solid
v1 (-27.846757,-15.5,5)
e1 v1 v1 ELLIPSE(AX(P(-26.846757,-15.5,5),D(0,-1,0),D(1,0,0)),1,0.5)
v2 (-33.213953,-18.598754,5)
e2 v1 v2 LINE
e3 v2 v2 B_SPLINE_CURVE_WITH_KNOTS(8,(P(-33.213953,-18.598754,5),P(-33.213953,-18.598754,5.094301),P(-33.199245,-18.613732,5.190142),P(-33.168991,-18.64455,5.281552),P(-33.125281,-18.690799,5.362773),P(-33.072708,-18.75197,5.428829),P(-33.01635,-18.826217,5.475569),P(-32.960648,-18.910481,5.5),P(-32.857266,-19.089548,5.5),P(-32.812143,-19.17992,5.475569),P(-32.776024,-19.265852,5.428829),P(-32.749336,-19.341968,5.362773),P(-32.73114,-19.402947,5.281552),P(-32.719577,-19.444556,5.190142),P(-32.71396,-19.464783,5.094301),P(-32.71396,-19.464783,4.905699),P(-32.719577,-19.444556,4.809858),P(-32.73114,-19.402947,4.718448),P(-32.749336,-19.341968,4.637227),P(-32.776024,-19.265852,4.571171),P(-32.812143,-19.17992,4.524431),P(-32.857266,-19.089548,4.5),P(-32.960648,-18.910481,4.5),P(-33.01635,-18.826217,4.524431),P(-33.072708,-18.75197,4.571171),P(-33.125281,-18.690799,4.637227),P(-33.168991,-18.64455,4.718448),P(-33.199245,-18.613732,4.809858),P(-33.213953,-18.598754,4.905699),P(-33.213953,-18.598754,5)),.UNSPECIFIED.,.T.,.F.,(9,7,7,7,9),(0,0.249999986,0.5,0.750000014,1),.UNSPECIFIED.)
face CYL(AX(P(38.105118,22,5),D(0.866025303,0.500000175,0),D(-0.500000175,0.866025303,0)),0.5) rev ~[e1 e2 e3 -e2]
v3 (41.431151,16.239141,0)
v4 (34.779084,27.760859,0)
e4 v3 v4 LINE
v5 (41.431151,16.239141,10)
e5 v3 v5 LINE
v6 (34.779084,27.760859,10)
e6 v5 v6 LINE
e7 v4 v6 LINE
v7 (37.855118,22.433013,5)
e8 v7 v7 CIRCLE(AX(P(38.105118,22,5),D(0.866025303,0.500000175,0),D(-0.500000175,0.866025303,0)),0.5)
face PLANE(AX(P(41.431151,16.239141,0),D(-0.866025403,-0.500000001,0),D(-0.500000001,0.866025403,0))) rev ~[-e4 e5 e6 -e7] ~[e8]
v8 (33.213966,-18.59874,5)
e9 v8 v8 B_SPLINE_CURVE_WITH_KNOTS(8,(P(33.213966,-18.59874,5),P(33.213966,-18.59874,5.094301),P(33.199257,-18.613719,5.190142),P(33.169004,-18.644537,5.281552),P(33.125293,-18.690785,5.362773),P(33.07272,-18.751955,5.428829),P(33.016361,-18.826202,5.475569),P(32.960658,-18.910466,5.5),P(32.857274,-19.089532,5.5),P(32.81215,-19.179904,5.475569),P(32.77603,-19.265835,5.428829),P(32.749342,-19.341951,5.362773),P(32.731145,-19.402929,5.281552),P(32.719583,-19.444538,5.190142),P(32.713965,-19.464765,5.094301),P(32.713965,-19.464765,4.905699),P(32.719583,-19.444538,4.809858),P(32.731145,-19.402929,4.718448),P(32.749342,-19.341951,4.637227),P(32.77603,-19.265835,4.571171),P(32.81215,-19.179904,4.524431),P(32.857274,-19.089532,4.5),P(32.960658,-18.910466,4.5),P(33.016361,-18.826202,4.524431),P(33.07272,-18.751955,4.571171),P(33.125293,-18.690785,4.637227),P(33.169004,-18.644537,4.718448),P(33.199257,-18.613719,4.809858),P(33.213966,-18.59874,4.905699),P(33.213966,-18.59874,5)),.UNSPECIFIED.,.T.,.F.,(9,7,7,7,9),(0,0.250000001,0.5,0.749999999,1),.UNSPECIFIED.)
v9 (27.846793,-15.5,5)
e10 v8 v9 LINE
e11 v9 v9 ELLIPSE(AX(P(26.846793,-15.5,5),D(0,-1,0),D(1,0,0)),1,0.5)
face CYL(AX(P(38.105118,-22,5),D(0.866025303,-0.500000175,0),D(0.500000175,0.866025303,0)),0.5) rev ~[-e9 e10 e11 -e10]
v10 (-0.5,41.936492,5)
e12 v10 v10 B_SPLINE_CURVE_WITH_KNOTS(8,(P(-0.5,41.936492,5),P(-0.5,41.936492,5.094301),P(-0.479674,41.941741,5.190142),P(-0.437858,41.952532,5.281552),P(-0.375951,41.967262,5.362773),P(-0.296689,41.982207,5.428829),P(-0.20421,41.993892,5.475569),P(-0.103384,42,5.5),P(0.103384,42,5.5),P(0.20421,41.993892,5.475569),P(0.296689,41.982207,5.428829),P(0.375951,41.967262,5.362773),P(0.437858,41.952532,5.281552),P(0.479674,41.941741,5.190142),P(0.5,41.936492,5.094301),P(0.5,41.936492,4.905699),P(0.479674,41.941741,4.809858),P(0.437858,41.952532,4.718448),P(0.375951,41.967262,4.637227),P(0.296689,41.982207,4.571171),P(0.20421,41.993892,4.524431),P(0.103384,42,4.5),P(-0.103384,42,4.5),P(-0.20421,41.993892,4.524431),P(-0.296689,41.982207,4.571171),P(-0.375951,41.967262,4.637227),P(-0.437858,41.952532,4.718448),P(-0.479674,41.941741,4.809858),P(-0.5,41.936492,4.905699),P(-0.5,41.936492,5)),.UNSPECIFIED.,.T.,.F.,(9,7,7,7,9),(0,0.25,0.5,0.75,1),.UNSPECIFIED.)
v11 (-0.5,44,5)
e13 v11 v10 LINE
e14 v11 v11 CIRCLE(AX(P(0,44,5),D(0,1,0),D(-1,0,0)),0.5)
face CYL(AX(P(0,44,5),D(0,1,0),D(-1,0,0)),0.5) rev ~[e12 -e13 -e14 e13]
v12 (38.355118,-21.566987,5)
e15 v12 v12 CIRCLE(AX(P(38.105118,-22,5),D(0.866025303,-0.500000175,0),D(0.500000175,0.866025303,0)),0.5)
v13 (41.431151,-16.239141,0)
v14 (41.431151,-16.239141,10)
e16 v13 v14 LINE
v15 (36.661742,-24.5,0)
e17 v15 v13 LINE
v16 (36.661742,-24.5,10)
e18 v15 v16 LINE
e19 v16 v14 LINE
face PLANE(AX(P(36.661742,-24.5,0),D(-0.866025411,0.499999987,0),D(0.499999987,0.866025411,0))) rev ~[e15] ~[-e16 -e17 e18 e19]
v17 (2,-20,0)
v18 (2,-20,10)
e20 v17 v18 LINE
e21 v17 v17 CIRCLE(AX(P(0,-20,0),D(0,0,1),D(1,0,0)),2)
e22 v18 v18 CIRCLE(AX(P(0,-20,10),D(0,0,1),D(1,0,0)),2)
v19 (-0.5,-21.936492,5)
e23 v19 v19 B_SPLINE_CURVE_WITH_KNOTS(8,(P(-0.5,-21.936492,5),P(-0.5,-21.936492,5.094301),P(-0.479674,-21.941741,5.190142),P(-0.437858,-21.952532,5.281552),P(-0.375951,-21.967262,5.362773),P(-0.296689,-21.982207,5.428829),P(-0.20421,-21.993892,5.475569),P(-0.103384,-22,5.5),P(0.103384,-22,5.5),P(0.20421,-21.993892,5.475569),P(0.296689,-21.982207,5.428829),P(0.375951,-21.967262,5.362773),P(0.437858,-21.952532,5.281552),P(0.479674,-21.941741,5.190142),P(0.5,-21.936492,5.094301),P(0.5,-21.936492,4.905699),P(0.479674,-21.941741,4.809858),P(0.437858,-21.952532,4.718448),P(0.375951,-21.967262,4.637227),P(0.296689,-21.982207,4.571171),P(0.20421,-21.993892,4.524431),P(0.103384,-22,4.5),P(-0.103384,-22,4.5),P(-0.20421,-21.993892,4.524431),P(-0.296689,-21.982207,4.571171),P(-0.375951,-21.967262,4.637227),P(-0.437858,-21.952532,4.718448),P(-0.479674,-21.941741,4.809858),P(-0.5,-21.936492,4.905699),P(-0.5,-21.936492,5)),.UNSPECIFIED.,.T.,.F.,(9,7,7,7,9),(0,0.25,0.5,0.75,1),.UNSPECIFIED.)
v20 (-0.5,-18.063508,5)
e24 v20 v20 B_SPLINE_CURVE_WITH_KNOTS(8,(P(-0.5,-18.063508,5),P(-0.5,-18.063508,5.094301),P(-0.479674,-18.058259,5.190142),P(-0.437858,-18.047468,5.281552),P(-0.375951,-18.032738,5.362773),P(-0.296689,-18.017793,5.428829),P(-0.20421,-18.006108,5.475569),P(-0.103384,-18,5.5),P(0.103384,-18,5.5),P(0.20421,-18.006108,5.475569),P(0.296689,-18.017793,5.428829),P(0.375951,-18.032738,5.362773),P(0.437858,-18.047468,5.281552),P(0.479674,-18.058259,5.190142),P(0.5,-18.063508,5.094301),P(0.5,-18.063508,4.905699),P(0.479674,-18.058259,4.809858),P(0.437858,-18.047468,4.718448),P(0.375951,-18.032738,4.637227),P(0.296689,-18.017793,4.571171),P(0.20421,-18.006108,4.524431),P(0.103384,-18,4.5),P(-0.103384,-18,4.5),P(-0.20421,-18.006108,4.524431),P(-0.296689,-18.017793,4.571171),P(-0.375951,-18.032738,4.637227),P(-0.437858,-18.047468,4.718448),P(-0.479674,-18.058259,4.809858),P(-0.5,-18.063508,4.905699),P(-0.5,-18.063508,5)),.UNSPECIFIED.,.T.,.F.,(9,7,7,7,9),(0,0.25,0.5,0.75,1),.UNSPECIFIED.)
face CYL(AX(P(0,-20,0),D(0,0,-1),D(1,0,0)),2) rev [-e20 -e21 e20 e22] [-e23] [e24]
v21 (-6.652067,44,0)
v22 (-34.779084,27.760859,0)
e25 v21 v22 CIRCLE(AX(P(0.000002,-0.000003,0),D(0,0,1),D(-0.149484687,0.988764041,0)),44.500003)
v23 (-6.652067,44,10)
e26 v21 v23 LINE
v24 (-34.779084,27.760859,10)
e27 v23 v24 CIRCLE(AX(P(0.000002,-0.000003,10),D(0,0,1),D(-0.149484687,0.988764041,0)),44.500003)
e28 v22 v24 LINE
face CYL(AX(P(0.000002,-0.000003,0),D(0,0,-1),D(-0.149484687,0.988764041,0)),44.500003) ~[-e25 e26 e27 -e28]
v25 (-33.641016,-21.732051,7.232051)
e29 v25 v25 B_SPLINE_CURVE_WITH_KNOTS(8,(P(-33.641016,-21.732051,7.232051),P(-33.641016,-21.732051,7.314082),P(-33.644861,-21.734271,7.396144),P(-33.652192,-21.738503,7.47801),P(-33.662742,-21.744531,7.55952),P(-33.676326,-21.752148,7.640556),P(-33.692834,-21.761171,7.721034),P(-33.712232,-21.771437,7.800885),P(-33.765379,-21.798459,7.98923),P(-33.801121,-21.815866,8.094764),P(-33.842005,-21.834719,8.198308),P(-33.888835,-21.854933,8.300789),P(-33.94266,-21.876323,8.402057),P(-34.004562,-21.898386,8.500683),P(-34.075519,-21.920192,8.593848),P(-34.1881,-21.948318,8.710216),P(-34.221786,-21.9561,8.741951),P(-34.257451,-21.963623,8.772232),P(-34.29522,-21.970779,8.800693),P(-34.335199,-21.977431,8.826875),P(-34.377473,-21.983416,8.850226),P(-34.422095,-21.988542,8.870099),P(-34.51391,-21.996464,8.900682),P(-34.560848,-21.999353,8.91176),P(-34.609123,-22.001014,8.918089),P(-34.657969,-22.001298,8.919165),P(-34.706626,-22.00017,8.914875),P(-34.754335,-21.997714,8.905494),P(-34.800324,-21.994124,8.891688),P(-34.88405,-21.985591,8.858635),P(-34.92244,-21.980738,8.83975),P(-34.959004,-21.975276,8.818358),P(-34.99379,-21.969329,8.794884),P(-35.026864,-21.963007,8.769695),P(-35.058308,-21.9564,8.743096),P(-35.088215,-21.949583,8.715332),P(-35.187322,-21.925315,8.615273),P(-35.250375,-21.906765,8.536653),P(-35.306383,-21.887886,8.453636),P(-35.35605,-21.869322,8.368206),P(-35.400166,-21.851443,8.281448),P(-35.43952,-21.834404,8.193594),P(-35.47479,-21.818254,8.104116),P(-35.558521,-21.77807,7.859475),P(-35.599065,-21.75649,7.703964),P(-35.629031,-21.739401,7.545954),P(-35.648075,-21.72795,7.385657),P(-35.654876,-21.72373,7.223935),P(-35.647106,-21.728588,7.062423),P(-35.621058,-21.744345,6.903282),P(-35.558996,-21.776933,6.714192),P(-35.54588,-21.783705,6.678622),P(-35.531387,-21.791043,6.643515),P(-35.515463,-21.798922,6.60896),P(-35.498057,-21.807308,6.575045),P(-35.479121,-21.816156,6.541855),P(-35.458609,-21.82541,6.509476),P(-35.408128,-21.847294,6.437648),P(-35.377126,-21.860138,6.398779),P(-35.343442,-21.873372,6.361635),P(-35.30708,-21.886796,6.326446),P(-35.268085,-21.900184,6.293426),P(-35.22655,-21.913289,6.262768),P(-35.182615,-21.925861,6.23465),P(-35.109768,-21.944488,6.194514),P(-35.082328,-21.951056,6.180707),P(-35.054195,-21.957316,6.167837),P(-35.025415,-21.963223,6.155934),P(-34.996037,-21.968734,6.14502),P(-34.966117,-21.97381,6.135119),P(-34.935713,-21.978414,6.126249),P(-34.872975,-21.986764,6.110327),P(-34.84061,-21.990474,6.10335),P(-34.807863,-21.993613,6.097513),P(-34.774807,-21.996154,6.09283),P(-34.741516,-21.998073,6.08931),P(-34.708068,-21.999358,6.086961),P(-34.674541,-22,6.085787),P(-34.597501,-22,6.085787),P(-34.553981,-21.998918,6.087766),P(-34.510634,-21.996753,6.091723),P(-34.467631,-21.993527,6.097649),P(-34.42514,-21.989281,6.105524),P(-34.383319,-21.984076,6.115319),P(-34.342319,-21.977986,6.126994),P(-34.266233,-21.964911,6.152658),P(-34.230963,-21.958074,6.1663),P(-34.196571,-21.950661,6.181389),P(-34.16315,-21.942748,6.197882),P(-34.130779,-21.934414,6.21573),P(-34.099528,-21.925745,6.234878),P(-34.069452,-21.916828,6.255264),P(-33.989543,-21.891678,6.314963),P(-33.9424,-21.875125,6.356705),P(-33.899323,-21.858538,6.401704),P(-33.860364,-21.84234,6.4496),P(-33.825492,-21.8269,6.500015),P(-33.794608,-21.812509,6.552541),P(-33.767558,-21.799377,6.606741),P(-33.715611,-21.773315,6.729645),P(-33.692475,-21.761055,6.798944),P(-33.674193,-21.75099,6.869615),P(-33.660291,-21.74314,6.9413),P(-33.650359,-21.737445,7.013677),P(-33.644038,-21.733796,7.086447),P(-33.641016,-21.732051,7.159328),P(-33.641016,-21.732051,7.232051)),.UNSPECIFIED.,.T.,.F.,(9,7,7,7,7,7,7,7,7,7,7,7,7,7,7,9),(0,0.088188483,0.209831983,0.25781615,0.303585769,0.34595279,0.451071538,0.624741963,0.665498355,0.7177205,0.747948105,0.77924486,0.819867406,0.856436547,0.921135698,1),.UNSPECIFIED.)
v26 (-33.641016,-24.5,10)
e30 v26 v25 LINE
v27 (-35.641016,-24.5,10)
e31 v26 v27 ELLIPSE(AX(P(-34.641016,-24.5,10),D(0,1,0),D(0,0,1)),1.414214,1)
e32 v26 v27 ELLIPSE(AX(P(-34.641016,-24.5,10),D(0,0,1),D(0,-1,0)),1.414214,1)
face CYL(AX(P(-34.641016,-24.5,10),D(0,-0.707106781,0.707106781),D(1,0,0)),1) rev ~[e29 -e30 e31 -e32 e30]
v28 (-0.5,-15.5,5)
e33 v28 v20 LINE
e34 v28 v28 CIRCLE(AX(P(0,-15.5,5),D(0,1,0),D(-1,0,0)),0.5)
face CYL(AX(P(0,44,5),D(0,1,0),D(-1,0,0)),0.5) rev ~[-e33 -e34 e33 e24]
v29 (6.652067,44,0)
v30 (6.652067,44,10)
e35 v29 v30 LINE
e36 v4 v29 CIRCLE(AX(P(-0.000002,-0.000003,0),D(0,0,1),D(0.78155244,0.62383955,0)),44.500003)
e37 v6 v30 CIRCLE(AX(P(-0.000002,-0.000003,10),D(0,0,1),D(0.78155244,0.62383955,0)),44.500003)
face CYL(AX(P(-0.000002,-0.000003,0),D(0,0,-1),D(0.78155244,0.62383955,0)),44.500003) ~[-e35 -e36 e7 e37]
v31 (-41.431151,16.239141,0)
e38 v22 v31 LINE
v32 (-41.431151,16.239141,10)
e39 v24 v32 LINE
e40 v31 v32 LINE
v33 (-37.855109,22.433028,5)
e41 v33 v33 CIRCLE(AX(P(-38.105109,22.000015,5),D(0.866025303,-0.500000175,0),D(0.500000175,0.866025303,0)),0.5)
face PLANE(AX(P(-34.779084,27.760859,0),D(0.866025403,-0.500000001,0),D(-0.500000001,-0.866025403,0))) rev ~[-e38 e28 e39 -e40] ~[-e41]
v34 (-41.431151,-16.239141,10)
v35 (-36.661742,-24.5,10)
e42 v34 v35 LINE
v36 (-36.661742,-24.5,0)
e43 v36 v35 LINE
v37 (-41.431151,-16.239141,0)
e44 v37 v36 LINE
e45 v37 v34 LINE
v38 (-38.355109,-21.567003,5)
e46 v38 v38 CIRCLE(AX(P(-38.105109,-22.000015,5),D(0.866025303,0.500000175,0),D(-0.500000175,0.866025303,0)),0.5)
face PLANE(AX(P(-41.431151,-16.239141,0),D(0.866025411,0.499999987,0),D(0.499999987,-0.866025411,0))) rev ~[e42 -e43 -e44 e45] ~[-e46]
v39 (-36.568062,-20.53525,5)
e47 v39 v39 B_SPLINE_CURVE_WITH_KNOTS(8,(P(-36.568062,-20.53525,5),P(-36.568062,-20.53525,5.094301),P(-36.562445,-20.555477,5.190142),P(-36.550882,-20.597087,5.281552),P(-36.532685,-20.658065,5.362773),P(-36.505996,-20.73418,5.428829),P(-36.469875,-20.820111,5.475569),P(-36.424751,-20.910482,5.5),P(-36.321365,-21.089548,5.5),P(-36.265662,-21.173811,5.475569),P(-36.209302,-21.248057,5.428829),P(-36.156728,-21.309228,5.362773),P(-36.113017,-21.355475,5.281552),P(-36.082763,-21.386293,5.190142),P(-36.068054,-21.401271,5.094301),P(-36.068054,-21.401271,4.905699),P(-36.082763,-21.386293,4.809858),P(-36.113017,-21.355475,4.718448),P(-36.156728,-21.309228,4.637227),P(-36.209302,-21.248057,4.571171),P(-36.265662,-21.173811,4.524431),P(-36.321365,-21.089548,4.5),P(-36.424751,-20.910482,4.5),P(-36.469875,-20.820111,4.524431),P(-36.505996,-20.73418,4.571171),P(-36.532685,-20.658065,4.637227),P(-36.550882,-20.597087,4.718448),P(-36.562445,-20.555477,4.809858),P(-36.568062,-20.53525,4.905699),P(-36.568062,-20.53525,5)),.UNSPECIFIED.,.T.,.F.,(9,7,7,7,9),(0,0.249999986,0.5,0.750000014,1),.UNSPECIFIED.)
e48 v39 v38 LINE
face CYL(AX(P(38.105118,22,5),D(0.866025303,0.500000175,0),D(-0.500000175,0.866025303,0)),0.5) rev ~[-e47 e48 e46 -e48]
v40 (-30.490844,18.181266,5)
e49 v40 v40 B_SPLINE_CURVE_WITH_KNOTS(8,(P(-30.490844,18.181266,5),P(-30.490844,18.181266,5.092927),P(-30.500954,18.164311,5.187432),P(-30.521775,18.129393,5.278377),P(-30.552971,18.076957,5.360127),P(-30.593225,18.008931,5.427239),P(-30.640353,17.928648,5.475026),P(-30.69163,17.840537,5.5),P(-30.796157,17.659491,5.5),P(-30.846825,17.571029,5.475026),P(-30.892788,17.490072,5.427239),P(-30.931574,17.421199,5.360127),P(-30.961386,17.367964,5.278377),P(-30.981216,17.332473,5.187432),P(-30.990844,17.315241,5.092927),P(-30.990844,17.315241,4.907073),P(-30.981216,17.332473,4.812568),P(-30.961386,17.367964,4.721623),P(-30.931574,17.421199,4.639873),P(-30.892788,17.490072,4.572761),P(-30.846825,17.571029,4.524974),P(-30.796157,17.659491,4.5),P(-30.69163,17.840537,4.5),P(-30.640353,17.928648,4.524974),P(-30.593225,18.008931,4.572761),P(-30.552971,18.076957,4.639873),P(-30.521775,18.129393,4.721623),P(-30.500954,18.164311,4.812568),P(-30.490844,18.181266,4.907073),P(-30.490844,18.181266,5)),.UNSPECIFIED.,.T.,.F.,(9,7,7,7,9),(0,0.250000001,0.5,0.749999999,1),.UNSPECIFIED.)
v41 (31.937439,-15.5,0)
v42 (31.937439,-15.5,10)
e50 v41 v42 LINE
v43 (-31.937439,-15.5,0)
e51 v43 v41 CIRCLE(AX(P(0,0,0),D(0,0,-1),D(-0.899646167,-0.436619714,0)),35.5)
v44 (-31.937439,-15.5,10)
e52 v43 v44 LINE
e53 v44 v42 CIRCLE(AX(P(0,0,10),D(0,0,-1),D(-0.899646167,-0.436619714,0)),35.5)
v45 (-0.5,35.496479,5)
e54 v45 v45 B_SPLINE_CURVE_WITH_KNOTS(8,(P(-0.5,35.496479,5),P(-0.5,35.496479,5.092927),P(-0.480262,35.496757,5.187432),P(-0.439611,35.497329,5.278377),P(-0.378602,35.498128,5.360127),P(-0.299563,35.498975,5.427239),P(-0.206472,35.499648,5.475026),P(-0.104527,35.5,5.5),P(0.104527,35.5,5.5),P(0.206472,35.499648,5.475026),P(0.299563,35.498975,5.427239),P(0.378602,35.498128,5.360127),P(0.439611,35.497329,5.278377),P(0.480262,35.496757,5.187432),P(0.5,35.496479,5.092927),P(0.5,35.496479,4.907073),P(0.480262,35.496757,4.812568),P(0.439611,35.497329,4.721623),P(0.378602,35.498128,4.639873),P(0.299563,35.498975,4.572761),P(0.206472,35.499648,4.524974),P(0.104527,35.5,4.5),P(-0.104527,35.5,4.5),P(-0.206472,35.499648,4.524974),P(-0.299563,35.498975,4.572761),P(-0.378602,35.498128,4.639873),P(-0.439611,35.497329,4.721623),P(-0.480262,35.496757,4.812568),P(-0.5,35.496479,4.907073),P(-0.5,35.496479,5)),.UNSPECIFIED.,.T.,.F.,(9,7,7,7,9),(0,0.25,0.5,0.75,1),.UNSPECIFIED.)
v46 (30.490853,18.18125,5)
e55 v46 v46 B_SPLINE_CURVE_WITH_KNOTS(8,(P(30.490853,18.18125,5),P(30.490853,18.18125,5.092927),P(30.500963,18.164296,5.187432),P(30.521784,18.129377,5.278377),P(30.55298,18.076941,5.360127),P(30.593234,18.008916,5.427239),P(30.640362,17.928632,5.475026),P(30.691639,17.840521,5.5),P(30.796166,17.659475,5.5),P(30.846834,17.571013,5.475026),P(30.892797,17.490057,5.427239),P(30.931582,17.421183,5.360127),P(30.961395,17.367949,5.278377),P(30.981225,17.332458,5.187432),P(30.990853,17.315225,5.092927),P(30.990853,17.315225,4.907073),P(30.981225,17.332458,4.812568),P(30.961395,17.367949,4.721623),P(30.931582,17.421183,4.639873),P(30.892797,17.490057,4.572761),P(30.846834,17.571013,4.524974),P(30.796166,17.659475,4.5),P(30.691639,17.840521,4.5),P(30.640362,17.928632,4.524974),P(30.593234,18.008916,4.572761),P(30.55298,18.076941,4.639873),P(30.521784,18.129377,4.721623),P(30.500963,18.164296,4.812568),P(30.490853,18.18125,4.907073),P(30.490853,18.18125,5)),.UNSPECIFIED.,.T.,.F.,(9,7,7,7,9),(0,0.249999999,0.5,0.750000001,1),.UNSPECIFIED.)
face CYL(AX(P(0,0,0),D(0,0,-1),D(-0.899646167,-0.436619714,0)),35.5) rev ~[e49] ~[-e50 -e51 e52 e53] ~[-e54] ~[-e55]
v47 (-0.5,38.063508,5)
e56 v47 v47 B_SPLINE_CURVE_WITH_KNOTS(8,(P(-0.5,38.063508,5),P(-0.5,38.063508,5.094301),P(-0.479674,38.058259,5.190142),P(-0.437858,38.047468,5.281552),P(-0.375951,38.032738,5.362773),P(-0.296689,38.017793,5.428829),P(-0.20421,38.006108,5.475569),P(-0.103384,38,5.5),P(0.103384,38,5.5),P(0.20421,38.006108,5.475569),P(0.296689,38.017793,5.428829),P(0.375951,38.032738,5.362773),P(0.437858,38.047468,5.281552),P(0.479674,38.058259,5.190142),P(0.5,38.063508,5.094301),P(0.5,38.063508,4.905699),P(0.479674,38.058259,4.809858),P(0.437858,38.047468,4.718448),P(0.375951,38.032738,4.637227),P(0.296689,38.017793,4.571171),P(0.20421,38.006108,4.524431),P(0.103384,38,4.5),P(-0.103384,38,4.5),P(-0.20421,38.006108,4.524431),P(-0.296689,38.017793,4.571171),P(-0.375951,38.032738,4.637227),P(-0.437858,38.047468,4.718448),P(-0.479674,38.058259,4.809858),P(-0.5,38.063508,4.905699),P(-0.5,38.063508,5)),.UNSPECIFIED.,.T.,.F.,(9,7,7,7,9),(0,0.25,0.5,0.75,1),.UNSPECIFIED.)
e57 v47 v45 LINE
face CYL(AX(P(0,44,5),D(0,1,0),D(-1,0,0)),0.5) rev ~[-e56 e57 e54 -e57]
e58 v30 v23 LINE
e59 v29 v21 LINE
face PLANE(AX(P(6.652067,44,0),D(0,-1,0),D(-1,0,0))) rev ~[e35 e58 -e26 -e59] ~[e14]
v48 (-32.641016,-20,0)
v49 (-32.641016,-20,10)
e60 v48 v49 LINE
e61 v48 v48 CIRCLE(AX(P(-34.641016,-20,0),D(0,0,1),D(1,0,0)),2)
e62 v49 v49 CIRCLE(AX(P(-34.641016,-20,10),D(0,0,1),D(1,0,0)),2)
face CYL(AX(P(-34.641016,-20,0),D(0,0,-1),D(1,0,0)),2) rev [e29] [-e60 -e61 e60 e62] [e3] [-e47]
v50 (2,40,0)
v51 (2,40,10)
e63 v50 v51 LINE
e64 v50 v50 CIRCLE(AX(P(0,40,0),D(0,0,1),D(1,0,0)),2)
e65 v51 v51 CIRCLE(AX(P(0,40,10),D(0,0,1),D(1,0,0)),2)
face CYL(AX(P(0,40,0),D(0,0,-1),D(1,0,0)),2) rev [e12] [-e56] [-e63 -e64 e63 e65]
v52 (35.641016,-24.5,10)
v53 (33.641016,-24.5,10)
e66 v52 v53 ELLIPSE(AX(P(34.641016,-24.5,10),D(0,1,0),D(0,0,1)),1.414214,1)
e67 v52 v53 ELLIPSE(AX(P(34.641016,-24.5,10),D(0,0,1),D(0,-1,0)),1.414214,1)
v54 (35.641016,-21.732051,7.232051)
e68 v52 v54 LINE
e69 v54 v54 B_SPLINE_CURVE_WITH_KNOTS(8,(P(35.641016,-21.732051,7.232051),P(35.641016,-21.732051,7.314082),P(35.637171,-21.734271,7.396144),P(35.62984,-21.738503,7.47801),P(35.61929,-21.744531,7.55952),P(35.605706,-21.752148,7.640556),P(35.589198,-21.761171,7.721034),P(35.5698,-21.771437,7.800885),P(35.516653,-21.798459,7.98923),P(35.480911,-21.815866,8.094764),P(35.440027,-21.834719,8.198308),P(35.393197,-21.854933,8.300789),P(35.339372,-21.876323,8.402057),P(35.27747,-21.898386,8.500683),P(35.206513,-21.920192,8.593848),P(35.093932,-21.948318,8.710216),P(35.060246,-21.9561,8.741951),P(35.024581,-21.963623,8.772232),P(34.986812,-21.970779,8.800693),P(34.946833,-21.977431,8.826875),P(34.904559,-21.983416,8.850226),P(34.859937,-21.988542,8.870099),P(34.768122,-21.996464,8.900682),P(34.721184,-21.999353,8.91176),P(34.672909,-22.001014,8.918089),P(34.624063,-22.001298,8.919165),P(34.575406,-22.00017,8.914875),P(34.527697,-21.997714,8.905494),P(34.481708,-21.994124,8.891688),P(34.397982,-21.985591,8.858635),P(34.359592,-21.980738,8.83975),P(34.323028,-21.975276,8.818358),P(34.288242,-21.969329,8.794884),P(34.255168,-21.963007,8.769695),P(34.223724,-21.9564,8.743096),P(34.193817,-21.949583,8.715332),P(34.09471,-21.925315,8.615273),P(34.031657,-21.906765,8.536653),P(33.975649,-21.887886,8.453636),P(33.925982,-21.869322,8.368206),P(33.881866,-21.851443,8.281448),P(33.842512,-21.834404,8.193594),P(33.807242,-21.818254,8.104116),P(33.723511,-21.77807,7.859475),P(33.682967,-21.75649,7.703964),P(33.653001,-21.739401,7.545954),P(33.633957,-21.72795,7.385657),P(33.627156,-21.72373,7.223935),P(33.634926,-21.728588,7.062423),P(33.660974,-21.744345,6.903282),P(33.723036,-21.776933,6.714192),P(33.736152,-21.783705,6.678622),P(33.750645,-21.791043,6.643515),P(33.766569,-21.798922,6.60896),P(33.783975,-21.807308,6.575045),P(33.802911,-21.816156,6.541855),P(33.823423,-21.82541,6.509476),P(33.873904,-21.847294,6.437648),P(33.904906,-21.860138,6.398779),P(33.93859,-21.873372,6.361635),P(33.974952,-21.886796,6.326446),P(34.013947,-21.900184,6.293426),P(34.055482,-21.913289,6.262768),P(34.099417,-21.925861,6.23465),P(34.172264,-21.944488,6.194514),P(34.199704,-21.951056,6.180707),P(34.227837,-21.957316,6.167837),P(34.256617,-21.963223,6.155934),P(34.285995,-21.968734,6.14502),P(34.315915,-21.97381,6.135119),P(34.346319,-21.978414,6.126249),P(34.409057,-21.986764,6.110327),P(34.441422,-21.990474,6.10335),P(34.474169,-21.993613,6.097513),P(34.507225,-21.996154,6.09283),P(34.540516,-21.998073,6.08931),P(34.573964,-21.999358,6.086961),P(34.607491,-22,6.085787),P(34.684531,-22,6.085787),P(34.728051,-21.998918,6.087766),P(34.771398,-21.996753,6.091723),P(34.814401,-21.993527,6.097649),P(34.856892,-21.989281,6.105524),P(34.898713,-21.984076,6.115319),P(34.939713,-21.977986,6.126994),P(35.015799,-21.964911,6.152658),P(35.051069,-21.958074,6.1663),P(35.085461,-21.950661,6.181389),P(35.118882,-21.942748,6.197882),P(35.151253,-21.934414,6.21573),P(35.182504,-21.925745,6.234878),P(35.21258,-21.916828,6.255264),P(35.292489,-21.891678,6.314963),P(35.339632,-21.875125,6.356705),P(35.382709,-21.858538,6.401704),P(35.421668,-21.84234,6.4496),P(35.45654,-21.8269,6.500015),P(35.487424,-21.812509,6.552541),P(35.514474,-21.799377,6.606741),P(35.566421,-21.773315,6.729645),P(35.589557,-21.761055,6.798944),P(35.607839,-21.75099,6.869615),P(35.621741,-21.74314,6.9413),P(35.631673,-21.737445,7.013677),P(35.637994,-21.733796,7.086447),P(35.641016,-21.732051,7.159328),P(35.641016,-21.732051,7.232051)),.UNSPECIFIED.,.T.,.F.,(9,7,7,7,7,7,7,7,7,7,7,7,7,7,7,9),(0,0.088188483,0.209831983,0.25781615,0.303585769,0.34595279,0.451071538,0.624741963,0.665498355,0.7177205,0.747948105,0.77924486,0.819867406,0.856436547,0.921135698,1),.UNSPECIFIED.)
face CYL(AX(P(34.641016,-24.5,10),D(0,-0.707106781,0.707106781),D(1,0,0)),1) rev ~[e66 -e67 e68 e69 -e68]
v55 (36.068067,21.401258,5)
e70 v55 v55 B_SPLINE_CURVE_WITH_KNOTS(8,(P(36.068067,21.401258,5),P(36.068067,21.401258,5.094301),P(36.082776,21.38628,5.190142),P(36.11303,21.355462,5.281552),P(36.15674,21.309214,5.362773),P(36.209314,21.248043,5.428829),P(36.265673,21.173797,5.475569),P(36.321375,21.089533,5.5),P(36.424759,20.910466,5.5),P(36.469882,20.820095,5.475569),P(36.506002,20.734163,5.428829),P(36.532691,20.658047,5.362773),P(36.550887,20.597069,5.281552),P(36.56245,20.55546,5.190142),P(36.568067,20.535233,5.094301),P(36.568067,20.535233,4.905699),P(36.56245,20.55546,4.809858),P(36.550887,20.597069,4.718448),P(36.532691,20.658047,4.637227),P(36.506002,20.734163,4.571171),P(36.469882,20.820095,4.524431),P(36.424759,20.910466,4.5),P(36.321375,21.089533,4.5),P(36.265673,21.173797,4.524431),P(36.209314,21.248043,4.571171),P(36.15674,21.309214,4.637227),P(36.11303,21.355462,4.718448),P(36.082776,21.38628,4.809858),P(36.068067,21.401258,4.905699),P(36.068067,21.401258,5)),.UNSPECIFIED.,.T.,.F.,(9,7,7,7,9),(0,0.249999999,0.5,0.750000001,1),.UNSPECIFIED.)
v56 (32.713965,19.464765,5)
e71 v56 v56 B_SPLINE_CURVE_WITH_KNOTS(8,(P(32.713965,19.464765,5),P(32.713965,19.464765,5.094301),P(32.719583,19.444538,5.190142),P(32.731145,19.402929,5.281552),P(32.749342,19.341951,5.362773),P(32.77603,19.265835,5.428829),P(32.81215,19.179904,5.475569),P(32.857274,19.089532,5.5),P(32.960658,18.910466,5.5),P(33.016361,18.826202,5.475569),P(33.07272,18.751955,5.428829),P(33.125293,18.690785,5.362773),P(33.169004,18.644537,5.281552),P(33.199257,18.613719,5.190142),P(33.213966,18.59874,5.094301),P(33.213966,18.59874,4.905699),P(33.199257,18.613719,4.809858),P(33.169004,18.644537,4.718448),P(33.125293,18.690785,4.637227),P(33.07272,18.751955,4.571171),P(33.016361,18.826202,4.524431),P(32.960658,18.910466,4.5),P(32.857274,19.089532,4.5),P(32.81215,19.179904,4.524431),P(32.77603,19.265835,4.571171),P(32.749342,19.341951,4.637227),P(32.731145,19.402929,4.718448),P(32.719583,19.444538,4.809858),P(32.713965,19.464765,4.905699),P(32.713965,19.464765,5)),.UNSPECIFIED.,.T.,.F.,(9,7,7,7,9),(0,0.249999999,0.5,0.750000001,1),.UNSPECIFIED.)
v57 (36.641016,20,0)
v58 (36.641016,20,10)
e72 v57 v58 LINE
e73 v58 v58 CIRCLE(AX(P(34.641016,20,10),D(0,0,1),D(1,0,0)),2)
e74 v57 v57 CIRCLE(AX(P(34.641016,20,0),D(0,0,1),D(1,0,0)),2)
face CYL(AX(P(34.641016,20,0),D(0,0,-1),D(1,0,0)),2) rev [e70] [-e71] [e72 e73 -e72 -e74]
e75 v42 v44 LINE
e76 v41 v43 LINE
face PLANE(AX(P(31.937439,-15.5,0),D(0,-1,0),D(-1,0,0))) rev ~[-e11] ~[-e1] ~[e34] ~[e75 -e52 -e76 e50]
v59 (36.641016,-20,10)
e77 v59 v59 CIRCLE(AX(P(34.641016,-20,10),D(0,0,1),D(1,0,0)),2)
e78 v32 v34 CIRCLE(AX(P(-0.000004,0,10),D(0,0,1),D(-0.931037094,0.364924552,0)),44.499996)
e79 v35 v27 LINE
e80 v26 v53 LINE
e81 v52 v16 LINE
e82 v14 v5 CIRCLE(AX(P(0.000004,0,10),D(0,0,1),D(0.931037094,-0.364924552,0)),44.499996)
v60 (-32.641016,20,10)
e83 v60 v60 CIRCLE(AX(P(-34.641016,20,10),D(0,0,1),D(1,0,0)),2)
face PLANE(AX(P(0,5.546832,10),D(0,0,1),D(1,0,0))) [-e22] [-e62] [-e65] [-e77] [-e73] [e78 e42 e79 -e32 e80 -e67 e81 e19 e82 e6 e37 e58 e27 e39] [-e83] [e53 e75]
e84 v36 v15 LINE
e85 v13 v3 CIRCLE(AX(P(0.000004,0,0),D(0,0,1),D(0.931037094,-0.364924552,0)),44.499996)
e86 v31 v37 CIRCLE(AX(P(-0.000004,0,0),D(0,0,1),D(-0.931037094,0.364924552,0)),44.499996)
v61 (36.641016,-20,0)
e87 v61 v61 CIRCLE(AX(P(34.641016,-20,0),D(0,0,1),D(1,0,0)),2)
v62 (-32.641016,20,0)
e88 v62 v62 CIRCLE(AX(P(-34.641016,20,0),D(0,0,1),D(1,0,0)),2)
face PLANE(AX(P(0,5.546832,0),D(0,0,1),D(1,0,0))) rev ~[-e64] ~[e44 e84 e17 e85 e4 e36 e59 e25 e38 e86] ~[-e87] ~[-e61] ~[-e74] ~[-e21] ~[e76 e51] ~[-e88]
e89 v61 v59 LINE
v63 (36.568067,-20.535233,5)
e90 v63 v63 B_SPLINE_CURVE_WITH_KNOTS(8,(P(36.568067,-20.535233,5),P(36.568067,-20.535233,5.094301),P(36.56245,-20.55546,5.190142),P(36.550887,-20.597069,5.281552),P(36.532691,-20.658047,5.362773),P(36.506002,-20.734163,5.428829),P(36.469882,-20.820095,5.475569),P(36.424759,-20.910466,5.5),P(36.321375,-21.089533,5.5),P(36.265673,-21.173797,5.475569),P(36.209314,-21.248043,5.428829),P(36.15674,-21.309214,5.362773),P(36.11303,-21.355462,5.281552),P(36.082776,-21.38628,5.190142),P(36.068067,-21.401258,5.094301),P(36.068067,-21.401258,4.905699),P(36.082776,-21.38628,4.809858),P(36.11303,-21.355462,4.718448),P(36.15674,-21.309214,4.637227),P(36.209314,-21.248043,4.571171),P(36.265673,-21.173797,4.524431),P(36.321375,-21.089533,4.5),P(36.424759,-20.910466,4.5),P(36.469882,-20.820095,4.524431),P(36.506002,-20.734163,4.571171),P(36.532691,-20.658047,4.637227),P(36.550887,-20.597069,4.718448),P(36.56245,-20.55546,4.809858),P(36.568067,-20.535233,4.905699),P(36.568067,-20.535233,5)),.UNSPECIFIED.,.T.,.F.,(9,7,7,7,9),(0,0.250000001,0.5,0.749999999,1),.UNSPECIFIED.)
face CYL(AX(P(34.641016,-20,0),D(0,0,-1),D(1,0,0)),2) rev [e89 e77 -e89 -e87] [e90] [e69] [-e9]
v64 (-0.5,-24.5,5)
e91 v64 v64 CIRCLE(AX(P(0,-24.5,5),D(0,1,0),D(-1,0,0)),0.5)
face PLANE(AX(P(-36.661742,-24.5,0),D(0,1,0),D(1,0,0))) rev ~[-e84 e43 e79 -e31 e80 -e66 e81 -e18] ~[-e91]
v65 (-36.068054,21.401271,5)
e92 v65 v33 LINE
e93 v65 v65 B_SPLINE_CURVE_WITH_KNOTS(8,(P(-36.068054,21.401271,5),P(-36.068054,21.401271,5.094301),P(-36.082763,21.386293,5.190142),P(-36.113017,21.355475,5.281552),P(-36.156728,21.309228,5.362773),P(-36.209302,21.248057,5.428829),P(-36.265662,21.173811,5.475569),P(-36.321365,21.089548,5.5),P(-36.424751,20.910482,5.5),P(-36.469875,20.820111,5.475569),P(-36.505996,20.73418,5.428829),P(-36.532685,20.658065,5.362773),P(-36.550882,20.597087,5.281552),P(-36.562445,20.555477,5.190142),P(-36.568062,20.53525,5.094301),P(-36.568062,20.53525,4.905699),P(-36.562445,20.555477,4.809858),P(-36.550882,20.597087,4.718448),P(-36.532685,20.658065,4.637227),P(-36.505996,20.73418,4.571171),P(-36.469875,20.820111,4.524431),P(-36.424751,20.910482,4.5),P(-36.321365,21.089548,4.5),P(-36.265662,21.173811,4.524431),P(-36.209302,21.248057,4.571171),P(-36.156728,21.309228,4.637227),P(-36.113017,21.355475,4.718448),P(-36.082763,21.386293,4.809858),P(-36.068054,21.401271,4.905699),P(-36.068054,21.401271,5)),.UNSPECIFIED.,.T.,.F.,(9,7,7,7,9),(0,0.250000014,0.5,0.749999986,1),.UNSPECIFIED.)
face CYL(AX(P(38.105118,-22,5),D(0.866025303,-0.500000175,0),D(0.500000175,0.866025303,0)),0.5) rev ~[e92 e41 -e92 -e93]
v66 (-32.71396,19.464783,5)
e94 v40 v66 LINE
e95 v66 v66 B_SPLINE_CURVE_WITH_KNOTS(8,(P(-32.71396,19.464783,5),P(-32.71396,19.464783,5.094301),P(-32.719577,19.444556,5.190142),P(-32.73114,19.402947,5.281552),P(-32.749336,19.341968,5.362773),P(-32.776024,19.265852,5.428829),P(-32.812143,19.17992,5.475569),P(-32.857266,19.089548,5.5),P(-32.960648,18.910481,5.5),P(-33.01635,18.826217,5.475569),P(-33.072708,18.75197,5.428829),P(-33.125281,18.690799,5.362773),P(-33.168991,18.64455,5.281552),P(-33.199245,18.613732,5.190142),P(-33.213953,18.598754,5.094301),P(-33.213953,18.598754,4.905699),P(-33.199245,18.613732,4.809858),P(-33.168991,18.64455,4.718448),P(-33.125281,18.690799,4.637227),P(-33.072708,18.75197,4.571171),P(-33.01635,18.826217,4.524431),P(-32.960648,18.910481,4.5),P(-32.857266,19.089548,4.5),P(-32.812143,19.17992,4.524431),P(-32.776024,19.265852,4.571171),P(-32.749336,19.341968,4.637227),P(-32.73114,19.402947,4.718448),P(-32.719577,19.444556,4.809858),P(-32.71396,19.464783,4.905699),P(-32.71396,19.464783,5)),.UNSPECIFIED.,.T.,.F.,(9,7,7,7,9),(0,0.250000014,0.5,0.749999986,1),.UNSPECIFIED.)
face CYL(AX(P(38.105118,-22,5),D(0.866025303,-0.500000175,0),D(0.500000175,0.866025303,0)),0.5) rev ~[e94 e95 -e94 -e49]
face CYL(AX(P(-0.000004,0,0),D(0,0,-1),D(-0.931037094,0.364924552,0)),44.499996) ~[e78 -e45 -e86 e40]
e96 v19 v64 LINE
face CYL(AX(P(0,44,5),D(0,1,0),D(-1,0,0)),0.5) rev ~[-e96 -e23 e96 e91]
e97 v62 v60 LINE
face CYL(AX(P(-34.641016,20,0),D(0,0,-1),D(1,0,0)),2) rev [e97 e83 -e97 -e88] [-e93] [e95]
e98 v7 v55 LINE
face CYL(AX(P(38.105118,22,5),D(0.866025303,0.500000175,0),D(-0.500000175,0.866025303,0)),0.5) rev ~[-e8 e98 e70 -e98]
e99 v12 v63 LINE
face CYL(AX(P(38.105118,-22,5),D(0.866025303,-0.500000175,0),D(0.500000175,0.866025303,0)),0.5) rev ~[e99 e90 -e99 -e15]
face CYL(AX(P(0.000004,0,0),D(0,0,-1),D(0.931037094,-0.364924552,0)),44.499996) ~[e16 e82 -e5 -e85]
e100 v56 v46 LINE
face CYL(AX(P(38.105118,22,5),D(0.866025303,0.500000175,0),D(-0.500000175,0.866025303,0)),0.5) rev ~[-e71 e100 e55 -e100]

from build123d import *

# Parameters (mm, degrees)
F0_R      = 2
F1_DEPTH  = 10
F3_R      = 1
F4_DEPTH  = 5
F5_R      = 0.5
F6_DEPTH  = 104.53913
F7_R      = 0.5
F8_DEPTH  = 94.789131
F9_R      = 0.5
F10_DEPTH = 68.501


with BuildPart() as f1:
    # F0 (on Top) → F1 (new body)
    with BuildSketch(Plane.XY):
        with BuildLine():
            Line((36.661742, -24.5), (41.431151, -16.239141))
            ThreePointArc((41.431151, -16.239141), (44.5, 0), (41.431151, 16.239141))
            Line((41.431151, 16.239141), (34.779084, 27.760859))
            ThreePointArc((34.779084, 27.760859), (22.25, 38.53813), (6.652067, 44))
            Line((6.652067, 44), (-6.652067, 44))
            ThreePointArc((-6.652067, 44), (-22.25, 38.53813), (-34.779084, 27.760859))
            Line((-34.779084, 27.760859), (-41.431151, 16.239141))
            ThreePointArc((-41.431151, 16.239141), (-44.5, 0), (-41.431151, -16.239141))
            Line((-41.431151, -16.239141), (-36.661742, -24.5))
            Line((-36.661742, -24.5), (36.661742, -24.5))
        make_face()
        with Locations((-34.641016, -20)):
            Circle(F0_R, mode=Mode.SUBTRACT)
        with Locations((0, -20)):
            Circle(F0_R, mode=Mode.SUBTRACT)
        with Locations((34.641016, -20)):
            Circle(F0_R, mode=Mode.SUBTRACT)
        with Locations((-34.641016, 20)):
            Circle(F0_R, mode=Mode.SUBTRACT)
        with BuildLine():
            Line((31.937439, -15.5), (-31.937439, -15.5))
            ThreePointArc((-31.937439, -15.5), (0, 35.5), (31.937439, -15.5))
        make_face(mode=Mode.SUBTRACT)
        with Locations((0, 40)):
            Circle(F0_R, mode=Mode.SUBTRACT)
        with Locations((34.641016, 20)):
            Circle(F0_R, mode=Mode.SUBTRACT)
    extrude(amount=F1_DEPTH)

    # F3 (on face) → F4 (cut)
    with BuildSketch(Plane(origin=(0, -17.25, 17.25), x_dir=(1, 0, 0), z_dir=(0, -0.707107, 0.707107))):
        with Locations((-34.641016, -10.253048)):
            Circle(F3_R)
        with Locations((34.641016, -10.253048)):
            Circle(F3_R)
    extrude(amount=-F4_DEPTH, mode=Mode.SUBTRACT)

    # F5 (on face) → F6 (cut, through all)
    with BuildSketch(Plane(origin=(38.105118, -22, 0), x_dir=(0.5, 0.866025, 0), z_dir=(0.866025, -0.5, 0))):
        with Locations((0, 5)):
            Circle(F5_R)
    extrude(amount=-F6_DEPTH, mode=Mode.SUBTRACT)

    # F7 (on face) → F8 (cut, through all)
    with BuildSketch(Plane(origin=(38.105118, 22, 0), x_dir=(-0.5, 0.866025, 0), z_dir=(0.866025, 0.5, 0))):
        with Locations((0, 5)):
            Circle(F7_R)
    extrude(amount=-F8_DEPTH, mode=Mode.SUBTRACT)

    # F9 (on face) → F10 (cut, through all)
    with BuildSketch(Plane(origin=(0, 44, 0), x_dir=(-1, 0, 0), z_dir=(0, 1, 0))):
        with Locations((0, 5)):
            Circle(F9_R)
    extrude(amount=-F10_DEPTH, mode=Mode.SUBTRACT)


solid = f1.part
